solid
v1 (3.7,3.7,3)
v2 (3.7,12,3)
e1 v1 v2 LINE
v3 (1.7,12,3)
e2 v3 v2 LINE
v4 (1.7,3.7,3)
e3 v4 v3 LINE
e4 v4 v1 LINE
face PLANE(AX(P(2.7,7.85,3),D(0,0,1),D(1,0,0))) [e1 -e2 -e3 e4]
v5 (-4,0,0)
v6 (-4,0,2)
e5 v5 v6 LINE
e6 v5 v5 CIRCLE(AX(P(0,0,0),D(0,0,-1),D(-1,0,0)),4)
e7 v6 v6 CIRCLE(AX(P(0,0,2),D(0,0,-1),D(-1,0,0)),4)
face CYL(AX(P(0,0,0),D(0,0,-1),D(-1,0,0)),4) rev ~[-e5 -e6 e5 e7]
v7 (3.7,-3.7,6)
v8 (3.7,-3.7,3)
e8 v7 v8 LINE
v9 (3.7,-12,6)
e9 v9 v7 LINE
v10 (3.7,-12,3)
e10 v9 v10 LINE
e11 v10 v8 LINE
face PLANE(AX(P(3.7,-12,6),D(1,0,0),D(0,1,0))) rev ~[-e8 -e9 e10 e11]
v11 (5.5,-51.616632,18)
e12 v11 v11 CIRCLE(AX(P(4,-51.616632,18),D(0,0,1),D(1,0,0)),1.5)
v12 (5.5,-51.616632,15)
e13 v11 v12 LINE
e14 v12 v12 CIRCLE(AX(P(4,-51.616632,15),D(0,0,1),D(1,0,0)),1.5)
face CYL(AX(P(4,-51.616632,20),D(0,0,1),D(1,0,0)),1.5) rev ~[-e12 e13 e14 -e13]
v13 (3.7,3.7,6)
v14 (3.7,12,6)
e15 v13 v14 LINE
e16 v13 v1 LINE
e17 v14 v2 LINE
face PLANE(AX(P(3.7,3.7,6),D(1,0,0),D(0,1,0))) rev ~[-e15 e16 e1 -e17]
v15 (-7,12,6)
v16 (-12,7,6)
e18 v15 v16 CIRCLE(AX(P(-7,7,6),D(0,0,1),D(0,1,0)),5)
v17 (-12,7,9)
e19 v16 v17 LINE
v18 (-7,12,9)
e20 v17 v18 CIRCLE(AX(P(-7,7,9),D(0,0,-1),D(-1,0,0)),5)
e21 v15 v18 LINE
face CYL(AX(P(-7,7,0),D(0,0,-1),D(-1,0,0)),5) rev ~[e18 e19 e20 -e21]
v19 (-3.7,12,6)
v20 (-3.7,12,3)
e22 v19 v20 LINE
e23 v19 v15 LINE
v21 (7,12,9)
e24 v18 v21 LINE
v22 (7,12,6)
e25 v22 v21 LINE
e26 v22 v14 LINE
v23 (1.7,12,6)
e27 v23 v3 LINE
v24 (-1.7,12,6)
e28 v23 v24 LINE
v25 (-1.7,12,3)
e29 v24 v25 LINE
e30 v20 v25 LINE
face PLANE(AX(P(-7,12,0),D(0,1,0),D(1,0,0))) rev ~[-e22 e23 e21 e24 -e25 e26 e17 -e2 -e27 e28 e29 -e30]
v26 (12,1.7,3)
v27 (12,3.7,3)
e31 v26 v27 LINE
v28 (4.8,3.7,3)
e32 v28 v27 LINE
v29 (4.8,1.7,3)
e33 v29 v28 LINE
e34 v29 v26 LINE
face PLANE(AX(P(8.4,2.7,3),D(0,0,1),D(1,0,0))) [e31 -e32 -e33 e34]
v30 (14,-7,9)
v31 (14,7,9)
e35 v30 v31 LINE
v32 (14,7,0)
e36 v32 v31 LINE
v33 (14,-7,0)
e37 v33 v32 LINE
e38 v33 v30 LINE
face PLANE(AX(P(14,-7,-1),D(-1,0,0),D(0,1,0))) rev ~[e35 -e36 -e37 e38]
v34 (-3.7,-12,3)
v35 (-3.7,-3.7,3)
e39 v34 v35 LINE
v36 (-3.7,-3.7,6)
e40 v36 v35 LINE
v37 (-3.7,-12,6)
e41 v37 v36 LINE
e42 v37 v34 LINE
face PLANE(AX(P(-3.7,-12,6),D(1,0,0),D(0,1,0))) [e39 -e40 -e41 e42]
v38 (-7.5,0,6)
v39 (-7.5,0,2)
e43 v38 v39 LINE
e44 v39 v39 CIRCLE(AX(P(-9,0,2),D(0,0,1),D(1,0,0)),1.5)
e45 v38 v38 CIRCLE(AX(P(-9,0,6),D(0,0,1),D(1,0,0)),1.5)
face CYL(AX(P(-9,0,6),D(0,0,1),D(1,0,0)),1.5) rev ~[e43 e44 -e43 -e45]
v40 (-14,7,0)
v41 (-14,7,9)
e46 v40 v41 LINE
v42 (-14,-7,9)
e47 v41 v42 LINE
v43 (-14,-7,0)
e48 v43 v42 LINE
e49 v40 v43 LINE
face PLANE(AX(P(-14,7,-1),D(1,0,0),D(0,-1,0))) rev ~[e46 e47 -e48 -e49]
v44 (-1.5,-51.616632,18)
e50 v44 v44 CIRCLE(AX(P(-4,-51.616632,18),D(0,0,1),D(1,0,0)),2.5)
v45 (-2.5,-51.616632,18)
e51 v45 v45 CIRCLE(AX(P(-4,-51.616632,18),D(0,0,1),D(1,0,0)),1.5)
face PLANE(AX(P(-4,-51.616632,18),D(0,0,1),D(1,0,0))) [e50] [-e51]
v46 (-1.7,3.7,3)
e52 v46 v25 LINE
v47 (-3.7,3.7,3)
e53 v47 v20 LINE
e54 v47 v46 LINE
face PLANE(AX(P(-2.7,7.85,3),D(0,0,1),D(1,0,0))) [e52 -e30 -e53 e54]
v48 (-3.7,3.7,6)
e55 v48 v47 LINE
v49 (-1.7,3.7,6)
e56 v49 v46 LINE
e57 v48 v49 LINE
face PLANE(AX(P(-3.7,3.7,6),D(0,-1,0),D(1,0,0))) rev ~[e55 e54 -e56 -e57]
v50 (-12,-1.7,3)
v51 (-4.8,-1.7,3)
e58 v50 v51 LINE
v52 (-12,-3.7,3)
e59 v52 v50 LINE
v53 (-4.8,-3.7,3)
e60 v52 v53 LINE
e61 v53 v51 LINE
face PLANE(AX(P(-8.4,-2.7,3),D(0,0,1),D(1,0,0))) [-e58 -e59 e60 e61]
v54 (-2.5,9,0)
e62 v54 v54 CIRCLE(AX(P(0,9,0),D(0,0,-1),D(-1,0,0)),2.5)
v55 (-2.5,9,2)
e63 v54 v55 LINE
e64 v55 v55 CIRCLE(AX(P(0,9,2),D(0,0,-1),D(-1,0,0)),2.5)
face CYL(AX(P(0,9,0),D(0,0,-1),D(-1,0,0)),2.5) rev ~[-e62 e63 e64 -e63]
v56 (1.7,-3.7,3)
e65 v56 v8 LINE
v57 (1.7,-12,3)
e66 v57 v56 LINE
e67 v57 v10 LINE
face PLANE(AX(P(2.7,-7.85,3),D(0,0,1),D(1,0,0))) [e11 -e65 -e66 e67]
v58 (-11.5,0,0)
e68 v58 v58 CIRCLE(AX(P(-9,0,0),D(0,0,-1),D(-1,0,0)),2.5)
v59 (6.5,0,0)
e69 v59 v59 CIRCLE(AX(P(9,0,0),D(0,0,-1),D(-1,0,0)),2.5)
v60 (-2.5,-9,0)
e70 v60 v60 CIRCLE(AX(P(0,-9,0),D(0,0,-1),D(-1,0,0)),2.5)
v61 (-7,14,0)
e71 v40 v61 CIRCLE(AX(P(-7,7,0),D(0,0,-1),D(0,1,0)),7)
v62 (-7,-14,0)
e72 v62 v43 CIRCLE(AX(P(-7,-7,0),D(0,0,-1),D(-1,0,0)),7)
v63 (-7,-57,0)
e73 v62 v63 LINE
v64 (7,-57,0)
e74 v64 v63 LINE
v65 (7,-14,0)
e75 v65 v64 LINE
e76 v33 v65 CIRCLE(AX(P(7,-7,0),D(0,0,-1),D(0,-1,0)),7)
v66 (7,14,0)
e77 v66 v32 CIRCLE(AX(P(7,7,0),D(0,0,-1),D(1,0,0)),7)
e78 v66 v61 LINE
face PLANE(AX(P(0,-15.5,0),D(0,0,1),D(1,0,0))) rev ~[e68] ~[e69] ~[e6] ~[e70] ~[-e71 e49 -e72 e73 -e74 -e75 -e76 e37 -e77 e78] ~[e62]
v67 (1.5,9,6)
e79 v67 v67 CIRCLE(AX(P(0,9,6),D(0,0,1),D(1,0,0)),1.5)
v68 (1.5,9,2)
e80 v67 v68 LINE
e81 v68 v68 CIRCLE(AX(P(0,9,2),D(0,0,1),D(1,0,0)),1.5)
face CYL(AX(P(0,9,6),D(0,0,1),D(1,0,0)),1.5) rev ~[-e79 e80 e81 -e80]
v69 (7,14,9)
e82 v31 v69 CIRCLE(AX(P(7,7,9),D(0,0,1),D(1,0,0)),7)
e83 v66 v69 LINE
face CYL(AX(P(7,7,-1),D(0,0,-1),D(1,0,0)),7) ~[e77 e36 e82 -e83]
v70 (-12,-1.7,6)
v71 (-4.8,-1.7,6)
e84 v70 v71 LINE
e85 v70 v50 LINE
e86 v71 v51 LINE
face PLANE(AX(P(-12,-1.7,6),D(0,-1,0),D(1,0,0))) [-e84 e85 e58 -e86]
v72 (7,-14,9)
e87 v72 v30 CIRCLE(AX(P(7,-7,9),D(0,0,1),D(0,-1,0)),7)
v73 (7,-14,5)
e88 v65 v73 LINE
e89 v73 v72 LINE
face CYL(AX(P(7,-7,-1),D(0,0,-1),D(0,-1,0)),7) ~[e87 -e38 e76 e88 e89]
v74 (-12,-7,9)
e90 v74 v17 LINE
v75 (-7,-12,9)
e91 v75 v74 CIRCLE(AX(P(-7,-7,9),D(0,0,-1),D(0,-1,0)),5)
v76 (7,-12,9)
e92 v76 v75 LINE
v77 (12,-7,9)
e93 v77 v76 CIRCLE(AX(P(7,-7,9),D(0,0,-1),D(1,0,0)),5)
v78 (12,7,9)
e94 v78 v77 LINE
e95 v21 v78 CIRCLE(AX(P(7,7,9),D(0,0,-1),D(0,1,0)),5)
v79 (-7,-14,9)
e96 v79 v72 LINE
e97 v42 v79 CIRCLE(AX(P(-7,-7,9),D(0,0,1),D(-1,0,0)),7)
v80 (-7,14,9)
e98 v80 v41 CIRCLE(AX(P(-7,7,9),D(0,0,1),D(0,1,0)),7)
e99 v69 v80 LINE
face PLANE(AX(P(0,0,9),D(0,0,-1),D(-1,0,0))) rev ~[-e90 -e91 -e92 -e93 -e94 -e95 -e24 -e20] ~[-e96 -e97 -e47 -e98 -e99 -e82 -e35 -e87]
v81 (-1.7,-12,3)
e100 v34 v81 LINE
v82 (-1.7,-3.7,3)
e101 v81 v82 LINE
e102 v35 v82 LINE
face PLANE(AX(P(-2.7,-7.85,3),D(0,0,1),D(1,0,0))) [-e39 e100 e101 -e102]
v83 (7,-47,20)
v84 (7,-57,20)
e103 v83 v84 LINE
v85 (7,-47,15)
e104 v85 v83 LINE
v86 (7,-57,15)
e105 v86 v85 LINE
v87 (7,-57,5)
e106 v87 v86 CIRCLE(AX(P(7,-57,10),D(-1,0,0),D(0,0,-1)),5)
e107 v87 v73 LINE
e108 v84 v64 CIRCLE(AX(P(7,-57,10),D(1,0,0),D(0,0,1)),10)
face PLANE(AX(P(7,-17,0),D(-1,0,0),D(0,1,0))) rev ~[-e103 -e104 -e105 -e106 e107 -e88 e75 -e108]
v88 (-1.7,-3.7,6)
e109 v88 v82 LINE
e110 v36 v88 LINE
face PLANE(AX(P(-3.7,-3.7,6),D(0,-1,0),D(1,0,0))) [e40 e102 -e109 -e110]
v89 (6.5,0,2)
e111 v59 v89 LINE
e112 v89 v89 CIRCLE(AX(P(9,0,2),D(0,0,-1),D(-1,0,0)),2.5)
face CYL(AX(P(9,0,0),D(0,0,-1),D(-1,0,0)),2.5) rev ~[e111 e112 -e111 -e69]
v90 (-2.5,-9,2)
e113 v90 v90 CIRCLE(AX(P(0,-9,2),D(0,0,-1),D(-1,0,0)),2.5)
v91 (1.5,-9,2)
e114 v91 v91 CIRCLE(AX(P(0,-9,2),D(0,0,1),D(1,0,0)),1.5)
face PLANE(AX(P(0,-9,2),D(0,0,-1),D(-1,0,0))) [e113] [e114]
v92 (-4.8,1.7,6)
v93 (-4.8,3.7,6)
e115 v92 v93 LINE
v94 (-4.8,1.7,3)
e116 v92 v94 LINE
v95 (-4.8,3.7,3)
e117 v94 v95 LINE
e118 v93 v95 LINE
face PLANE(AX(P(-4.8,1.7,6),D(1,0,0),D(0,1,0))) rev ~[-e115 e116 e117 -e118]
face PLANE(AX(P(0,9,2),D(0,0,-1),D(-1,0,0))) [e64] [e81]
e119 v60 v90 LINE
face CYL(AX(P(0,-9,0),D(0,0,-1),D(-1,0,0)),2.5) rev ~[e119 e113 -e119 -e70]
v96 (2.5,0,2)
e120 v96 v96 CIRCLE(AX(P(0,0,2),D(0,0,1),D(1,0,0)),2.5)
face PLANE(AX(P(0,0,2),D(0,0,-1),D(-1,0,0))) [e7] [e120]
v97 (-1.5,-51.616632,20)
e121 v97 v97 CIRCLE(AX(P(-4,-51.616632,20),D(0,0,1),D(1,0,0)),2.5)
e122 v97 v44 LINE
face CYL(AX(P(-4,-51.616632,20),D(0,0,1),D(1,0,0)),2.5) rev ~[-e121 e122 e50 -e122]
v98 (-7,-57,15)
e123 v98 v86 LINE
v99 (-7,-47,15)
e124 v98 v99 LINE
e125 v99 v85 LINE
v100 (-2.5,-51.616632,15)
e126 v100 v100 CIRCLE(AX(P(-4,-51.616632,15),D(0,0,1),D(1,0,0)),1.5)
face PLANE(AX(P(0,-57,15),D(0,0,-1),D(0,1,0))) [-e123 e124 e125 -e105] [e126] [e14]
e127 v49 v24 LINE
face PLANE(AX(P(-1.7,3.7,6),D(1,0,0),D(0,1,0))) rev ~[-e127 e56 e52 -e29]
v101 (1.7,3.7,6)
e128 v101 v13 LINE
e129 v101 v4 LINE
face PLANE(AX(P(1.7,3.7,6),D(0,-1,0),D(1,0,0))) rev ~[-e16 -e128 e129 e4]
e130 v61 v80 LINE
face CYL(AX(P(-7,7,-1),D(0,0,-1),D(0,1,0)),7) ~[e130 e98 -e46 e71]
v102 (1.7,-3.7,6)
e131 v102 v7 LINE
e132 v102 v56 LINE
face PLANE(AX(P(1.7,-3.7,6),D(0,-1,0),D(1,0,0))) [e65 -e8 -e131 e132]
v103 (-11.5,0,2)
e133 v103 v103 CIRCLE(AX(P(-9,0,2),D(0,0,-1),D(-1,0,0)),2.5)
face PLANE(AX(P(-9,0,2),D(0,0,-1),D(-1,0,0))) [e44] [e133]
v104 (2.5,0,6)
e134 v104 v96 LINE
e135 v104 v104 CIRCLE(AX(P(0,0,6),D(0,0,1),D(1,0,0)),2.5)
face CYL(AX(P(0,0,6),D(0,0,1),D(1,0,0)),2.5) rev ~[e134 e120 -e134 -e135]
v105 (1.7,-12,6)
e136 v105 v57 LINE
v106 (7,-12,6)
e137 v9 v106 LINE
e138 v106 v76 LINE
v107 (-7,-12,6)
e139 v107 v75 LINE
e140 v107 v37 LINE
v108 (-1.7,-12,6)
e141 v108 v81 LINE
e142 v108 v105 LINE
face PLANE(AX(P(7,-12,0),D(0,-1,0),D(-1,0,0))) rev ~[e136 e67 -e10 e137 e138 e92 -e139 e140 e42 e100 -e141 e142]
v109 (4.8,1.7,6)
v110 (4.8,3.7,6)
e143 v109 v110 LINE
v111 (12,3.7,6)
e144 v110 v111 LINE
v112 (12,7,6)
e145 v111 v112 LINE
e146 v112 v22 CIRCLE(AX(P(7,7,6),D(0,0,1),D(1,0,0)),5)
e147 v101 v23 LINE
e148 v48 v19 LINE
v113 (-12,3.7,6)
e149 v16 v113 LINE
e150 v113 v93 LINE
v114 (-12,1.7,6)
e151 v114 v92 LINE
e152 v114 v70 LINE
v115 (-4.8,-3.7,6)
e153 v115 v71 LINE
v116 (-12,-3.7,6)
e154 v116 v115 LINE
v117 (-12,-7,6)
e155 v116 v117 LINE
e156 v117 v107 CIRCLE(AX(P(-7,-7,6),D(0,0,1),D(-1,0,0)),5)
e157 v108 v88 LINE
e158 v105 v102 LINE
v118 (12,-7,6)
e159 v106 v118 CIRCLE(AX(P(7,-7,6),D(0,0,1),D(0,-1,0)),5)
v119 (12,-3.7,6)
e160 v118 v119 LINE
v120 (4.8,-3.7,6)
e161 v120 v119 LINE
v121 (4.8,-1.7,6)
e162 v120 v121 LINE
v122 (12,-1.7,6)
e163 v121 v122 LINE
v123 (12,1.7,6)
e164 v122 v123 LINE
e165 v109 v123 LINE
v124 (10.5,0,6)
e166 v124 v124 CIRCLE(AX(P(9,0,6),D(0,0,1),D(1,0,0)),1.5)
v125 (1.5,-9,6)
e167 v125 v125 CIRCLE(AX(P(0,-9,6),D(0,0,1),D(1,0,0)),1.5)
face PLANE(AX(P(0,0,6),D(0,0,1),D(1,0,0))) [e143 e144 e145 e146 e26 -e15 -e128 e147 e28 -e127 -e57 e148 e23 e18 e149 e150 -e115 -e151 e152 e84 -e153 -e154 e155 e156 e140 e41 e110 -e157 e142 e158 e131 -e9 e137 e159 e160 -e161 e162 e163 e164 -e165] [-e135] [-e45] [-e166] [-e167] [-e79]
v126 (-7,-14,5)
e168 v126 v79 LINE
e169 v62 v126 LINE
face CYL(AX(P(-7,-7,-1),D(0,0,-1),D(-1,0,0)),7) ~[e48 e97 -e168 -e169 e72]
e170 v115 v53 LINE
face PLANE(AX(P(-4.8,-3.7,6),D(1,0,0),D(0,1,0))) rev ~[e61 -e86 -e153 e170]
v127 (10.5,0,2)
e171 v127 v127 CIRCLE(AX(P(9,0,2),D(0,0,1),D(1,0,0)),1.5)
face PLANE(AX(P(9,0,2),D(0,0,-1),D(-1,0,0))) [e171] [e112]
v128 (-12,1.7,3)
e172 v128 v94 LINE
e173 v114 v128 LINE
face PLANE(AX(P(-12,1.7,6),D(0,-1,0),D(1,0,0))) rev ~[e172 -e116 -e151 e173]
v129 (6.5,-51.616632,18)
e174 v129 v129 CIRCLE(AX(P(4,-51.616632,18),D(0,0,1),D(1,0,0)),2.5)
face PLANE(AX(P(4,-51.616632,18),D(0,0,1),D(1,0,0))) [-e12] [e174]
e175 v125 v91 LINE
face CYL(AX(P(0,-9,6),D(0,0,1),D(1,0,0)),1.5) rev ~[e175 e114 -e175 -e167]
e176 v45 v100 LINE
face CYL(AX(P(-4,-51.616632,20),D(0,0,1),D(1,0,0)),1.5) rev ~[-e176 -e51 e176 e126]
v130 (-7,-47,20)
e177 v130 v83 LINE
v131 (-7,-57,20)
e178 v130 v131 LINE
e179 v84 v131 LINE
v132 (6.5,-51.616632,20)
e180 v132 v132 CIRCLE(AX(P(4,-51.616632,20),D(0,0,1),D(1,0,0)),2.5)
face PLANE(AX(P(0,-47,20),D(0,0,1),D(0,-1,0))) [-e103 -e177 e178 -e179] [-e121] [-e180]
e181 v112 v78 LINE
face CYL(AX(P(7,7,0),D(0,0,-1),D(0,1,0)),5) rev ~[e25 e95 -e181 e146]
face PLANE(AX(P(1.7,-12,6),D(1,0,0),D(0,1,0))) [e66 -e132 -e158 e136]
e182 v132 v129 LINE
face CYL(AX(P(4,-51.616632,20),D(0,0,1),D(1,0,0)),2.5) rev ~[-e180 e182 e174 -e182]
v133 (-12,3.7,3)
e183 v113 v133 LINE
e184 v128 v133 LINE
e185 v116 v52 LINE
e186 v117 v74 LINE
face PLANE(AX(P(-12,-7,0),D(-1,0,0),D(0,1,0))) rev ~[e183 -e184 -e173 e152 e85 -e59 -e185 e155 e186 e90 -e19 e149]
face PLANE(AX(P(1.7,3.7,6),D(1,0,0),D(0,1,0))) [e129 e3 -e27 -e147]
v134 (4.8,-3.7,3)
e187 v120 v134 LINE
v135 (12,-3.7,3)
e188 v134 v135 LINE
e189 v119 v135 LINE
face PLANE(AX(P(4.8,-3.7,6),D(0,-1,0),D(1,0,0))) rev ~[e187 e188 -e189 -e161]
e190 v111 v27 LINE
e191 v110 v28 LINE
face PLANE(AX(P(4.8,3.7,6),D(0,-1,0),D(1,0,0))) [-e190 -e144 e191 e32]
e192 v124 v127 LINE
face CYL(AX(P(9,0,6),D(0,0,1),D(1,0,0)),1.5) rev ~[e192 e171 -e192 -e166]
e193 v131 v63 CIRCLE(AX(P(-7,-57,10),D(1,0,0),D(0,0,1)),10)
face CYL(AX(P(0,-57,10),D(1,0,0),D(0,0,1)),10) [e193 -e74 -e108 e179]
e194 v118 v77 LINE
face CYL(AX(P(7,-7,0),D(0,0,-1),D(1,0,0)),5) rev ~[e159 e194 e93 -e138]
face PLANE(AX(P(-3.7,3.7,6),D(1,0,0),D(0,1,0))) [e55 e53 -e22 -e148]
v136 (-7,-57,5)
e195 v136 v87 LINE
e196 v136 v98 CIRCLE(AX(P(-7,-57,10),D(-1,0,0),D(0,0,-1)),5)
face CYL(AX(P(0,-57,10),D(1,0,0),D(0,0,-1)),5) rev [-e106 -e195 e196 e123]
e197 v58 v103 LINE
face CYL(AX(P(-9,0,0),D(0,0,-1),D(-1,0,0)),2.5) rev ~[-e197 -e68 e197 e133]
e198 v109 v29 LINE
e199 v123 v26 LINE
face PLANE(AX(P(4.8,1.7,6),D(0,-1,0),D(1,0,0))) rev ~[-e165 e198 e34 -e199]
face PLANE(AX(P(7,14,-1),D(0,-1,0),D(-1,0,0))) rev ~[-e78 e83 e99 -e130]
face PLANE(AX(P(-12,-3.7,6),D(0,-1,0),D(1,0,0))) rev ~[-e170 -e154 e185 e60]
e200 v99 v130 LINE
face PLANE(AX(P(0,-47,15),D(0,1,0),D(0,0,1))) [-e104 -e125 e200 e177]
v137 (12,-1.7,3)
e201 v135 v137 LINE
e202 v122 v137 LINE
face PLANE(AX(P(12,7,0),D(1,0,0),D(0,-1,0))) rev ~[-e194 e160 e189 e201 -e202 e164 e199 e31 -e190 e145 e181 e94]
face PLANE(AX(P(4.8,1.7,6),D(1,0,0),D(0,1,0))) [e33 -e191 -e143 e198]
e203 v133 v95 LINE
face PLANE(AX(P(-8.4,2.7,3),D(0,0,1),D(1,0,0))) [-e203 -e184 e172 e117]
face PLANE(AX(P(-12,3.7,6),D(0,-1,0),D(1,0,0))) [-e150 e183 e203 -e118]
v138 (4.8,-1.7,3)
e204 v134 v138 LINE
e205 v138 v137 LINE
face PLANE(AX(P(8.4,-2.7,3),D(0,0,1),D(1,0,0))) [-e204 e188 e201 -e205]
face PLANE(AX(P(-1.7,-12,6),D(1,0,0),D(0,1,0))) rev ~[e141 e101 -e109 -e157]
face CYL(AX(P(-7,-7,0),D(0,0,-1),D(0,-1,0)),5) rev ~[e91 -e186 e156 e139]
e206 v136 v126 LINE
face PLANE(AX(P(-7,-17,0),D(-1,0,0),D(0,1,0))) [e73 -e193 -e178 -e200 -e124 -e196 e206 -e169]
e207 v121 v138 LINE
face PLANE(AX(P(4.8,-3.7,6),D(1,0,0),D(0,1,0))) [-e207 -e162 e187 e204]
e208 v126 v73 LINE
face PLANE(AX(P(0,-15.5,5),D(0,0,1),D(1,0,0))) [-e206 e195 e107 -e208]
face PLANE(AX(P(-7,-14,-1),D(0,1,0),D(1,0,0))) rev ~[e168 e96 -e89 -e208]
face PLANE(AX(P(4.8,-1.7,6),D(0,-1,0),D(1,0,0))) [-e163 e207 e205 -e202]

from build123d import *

# Parameters (mm, degrees)
Y_KSEKLIK_EKSTR_ZYON1_DEPTH = 9
Y_KSEKLIK_EKSTR_ZYON2_DEPTH = 6
IZIM4_R                     = 1.5
IZIM4_R_2                   = 2.5
KES_EKSTR_ZYON2_DEPTH       = 6.5
IZIM5_W                     = 14
IZIM5_H                     = 15
Y_KSEKLIK_EKSTR_ZYON3_DEPTH = 5
Y_KSEKLIK_EKSTR_ZYON4_DEPTH = 7
IZIM3_W                     = 7.2
IZIM3_H                     = 2
IZIM3_W_2                   = 2
IZIM3_H_2                   = 8.3
KES_EKSTR_ZYON3_DEPTH       = 3
IZIM8_R                     = 1.5
KES_EKSTR_ZYON5_DEPTH       = 10
IZIM9_R                     = 2.5
IZIM9_R_2                   = 4
KES_EKSTR_ZYON6_DEPTH       = 2
IZIM10_R                    = 2.5
KES_EKSTR_ZYON7_DEPTH       = 2
KES_EKSTR_ZYON8_START       = -10
KES_EKSTR_ZYON8_DEPTH       = 10
IZIM12_W                    = 14
IZIM12_H                    = 3
Y_KSEKLIK_EKSTR_ZYON5_DEPTH = 5


with BuildPart() as part:
    # Çizim1 → Yükseklik-Ekstrüzyon1 (new body)
    with BuildSketch(Plane.XY):
        with BuildLine():
            Line((17, 7), (17, -7))
            ThreePointArc((17, -7), (14.071067812, -14.071067812), (7, -17))
            Line((7, -17), (-7, -17))
            ThreePointArc((-7, -17), (-14.071067812, -14.071067812), (-17, -7))
            Line((-17, -7), (-17, 7))
            ThreePointArc((-17, 7), (-14.071067812, 14.071067812), (-7, 17))
            Line((-7, 17), (7, 17))
            ThreePointArc((7, 17), (14.071067812, 14.071067812), (17, 7))
        make_face()
        with BuildLine():
            Line((-7, 12), (7, 12))
            ThreePointArc((7, 12), (10.535533906, 10.535533906), (12, 7))
            Line((12, 7), (12, -7))
            ThreePointArc((12, -7), (10.535533906, -10.535533906), (7, -12))
            Line((7, -12), (-7, -12))
            ThreePointArc((-7, -12), (-10.535533906, -10.535533906), (-12, -7))
            Line((-12, -7), (-12, 7))
            ThreePointArc((-12, 7), (-10.535533906, 10.535533906), (-7, 12))
        make_face(mode=Mode.SUBTRACT)
    extrude(amount=Y_KSEKLIK_EKSTR_ZYON1_DEPTH)

    # Çizim2 → Yükseklik-Ekstrüzyon2 (add)
    with BuildSketch(Plane.XY):
        with BuildLine():
            Line((-7, -12), (7, -12))
            ThreePointArc((7, -12), (10.535533906, -10.535533906), (12, -7))
            Line((12, -7), (12, 7))
            ThreePointArc((12, 7), (10.535533906, 10.535533906), (7, 12))
            Line((7, 12), (-7, 12))
            ThreePointArc((-7, 12), (-10.535533906, 10.535533906), (-12, 7))
            Line((-12, 7), (-12, -7))
            ThreePointArc((-12, -7), (-10.535533906, -10.535533906), (-7, -12))
        make_face()
    extrude(amount=Y_KSEKLIK_EKSTR_ZYON2_DEPTH)

    # Çizim4 → Kes-Ekstrüzyon2 (cut)
    with BuildSketch(Plane.XY.offset(6)):
        with Locations((0, 9)):
            Circle(IZIM4_R)
        Circle(IZIM4_R_2)
        with Locations((9, 0)):
            Circle(IZIM4_R)
        with Locations((0, -9)):
            Circle(IZIM4_R)
        with Locations((-9, 0)):
            Circle(IZIM4_R)
    extrude(amount=-KES_EKSTR_ZYON2_DEPTH, mode=Mode.SUBTRACT)

    # Çizim5 → Yükseklik-Ekstrüzyon3 (add)
    with BuildSketch(Plane.XY):
        with Locations((0, -24.5)):
            Rectangle(IZIM5_W, IZIM5_H)
    extrude(amount=Y_KSEKLIK_EKSTR_ZYON3_DEPTH)

    # Çizim6 → Yükseklik-Ekstrüzyon4 (add, symmetric)
    with BuildSketch(Plane(origin=(0, 0, 0), x_dir=(0, 0, -1), z_dir=(1, 0, 0))):
        with BuildLine():
            Line((0, -32), (-5, -32))
            Line((-5, -32), (-5, -57))
            ThreePointArc((-5, -57), (-10, -62), (-15, -57))
            Line((-15, -57), (-15, -47))
            Line((-15, -47), (-20, -47))
            Line((-20, -47), (-20, -57))
            ThreePointArc((-20, -57), (-10, -67), (0, -57))
            Line((0, -57), (0, -32))
        make_face()
    extrude(amount=Y_KSEKLIK_EKSTR_ZYON4_DEPTH, both=True)

    # Çizim3 → Kes-Ekstrüzyon3 (cut)
    with BuildSketch(Plane.XY.offset(6)):
        with Locations((8.4, 2.7)):
            Rectangle(IZIM3_W, IZIM3_H)
        with Locations((2.7, 7.85)):
            Rectangle(IZIM3_W_2, IZIM3_H_2)
        with Locations((-2.7, 7.85)):
            Rectangle(IZIM3_W_2, IZIM3_H_2)
        with Locations((-8.4, 2.7)):
            Rectangle(IZIM3_W, IZIM3_H)
        with Locations((-8.4, -2.7)):
            Rectangle(IZIM3_W, IZIM3_H)
        with Locations((-2.7, -7.85)):
            Rectangle(IZIM3_W_2, IZIM3_H_2)
        with Locations((2.7, -7.85)):
            Rectangle(IZIM3_W_2, IZIM3_H_2)
        with Locations((8.4, -2.7)):
            Rectangle(IZIM3_W, IZIM3_H)
    extrude(amount=-KES_EKSTR_ZYON3_DEPTH, mode=Mode.SUBTRACT)

    # Çizim8 → Kes-Ekstrüzyon5 (cut)
    with BuildSketch(Plane.XY.offset(20)):
        with Locations((-4, -51.616632033)):
            Circle(IZIM8_R)
        with Locations((4, -51.616632033)):
            Circle(IZIM8_R)
    extrude(amount=-KES_EKSTR_ZYON5_DEPTH, mode=Mode.SUBTRACT)

    # Çizim9 → Kes-Ekstrüzyon6 (cut)
    with BuildSketch(Plane(origin=(0, 0, 0), x_dir=(-1, 0, 0), z_dir=(0, 0, -1))):
        with Locations((0, 9)):
            Circle(IZIM9_R)
        Circle(IZIM9_R_2)
        with Locations((9, 0)):
            Circle(IZIM9_R)
        with Locations((0, -9)):
            Circle(IZIM9_R)
        with Locations((-9, 0)):
            Circle(IZIM9_R)
    extrude(amount=-KES_EKSTR_ZYON6_DEPTH, mode=Mode.SUBTRACT)

    # Çizim10 → Kes-Ekstrüzyon7 (cut)
    with BuildSketch(Plane.XY.offset(20)):
        with Locations((-4, -51.616632033)):
            Circle(IZIM10_R)
        with Locations((4, -51.616632033)):
            Circle(IZIM10_R)
    extrude(amount=-KES_EKSTR_ZYON7_DEPTH, mode=Mode.SUBTRACT)

    # Çizim11 → Kes-Ekstrüzyon8 (cut)
    with BuildSketch(Plane.XY.offset(9).offset(KES_EKSTR_ZYON8_START)):
        with BuildLine():
            Line((7, 17), (-7, 17))
            ThreePointArc((-7, 17), (-14.071067812, 14.071067812), (-17, 7))
            Line((-17, 7), (-17, -7))
            ThreePointArc((-17, -7), (-14.071067812, -14.071067812), (-7, -17))
            Line((-7, -17), (7, -17))
            ThreePointArc((7, -17), (14.071067812, -14.071067812), (17, -7))
            Line((17, -7), (17, 7))
            ThreePointArc((17, 7), (14.071067812, 14.071067812), (7, 17))
        make_face()
        with BuildLine():
            Line((7, 14), (-7, 14))
            ThreePointArc((-7, 14), (-11.949747468, 11.949747468), (-14, 7))
            Line((-14, 7), (-14, -7))
            ThreePointArc((-14, -7), (-11.949747468, -11.949747468), (-7, -14))
            Line((-7, -14), (7, -14))
            ThreePointArc((7, -14), (11.949747468, -11.949747468), (14, -7))
            Line((14, -7), (14, 7))
            ThreePointArc((14, 7), (11.949747468, 11.949747468), (7, 14))
        make_face(mode=Mode.SUBTRACT)
    extrude(amount=KES_EKSTR_ZYON8_DEPTH, mode=Mode.SUBTRACT)


with BuildPart() as kes_ekstr_zyon8_piece_1:
    # of the separate pieces the step leaves, piece 1, a body of its own (kes_ekstr_zyon8_pieces)
    add(part.part.solids().sort_by_distance((-7, -57, 0))[0])



with BuildPart() as kes_ekstr_zyon8_piece_2:
    # of the separate pieces the step leaves, piece 2, a body of its own (kes_ekstr_zyon8_pieces)
    add(part.part.solids().sort_by_distance((7, 14, 0))[0])


with BuildPart() as kes_ekstr_zyon8_piece_1_1:
    add(kes_ekstr_zyon8_piece_1.part)

    add(kes_ekstr_zyon8_piece_2.part)  # Yükseklik-Ekstrüzyon5 merges Kes-Ekstrüzyon8 piece 2
    # Çizim12 → Yükseklik-Ekstrüzyon5 (add)
    with BuildSketch(Plane.XY):
        with Locations((0, -15.5)):
            Rectangle(IZIM12_W, IZIM12_H)
    extrude(amount=Y_KSEKLIK_EKSTR_ZYON5_DEPTH)


solid = kes_ekstr_zyon8_piece_1_1.part
